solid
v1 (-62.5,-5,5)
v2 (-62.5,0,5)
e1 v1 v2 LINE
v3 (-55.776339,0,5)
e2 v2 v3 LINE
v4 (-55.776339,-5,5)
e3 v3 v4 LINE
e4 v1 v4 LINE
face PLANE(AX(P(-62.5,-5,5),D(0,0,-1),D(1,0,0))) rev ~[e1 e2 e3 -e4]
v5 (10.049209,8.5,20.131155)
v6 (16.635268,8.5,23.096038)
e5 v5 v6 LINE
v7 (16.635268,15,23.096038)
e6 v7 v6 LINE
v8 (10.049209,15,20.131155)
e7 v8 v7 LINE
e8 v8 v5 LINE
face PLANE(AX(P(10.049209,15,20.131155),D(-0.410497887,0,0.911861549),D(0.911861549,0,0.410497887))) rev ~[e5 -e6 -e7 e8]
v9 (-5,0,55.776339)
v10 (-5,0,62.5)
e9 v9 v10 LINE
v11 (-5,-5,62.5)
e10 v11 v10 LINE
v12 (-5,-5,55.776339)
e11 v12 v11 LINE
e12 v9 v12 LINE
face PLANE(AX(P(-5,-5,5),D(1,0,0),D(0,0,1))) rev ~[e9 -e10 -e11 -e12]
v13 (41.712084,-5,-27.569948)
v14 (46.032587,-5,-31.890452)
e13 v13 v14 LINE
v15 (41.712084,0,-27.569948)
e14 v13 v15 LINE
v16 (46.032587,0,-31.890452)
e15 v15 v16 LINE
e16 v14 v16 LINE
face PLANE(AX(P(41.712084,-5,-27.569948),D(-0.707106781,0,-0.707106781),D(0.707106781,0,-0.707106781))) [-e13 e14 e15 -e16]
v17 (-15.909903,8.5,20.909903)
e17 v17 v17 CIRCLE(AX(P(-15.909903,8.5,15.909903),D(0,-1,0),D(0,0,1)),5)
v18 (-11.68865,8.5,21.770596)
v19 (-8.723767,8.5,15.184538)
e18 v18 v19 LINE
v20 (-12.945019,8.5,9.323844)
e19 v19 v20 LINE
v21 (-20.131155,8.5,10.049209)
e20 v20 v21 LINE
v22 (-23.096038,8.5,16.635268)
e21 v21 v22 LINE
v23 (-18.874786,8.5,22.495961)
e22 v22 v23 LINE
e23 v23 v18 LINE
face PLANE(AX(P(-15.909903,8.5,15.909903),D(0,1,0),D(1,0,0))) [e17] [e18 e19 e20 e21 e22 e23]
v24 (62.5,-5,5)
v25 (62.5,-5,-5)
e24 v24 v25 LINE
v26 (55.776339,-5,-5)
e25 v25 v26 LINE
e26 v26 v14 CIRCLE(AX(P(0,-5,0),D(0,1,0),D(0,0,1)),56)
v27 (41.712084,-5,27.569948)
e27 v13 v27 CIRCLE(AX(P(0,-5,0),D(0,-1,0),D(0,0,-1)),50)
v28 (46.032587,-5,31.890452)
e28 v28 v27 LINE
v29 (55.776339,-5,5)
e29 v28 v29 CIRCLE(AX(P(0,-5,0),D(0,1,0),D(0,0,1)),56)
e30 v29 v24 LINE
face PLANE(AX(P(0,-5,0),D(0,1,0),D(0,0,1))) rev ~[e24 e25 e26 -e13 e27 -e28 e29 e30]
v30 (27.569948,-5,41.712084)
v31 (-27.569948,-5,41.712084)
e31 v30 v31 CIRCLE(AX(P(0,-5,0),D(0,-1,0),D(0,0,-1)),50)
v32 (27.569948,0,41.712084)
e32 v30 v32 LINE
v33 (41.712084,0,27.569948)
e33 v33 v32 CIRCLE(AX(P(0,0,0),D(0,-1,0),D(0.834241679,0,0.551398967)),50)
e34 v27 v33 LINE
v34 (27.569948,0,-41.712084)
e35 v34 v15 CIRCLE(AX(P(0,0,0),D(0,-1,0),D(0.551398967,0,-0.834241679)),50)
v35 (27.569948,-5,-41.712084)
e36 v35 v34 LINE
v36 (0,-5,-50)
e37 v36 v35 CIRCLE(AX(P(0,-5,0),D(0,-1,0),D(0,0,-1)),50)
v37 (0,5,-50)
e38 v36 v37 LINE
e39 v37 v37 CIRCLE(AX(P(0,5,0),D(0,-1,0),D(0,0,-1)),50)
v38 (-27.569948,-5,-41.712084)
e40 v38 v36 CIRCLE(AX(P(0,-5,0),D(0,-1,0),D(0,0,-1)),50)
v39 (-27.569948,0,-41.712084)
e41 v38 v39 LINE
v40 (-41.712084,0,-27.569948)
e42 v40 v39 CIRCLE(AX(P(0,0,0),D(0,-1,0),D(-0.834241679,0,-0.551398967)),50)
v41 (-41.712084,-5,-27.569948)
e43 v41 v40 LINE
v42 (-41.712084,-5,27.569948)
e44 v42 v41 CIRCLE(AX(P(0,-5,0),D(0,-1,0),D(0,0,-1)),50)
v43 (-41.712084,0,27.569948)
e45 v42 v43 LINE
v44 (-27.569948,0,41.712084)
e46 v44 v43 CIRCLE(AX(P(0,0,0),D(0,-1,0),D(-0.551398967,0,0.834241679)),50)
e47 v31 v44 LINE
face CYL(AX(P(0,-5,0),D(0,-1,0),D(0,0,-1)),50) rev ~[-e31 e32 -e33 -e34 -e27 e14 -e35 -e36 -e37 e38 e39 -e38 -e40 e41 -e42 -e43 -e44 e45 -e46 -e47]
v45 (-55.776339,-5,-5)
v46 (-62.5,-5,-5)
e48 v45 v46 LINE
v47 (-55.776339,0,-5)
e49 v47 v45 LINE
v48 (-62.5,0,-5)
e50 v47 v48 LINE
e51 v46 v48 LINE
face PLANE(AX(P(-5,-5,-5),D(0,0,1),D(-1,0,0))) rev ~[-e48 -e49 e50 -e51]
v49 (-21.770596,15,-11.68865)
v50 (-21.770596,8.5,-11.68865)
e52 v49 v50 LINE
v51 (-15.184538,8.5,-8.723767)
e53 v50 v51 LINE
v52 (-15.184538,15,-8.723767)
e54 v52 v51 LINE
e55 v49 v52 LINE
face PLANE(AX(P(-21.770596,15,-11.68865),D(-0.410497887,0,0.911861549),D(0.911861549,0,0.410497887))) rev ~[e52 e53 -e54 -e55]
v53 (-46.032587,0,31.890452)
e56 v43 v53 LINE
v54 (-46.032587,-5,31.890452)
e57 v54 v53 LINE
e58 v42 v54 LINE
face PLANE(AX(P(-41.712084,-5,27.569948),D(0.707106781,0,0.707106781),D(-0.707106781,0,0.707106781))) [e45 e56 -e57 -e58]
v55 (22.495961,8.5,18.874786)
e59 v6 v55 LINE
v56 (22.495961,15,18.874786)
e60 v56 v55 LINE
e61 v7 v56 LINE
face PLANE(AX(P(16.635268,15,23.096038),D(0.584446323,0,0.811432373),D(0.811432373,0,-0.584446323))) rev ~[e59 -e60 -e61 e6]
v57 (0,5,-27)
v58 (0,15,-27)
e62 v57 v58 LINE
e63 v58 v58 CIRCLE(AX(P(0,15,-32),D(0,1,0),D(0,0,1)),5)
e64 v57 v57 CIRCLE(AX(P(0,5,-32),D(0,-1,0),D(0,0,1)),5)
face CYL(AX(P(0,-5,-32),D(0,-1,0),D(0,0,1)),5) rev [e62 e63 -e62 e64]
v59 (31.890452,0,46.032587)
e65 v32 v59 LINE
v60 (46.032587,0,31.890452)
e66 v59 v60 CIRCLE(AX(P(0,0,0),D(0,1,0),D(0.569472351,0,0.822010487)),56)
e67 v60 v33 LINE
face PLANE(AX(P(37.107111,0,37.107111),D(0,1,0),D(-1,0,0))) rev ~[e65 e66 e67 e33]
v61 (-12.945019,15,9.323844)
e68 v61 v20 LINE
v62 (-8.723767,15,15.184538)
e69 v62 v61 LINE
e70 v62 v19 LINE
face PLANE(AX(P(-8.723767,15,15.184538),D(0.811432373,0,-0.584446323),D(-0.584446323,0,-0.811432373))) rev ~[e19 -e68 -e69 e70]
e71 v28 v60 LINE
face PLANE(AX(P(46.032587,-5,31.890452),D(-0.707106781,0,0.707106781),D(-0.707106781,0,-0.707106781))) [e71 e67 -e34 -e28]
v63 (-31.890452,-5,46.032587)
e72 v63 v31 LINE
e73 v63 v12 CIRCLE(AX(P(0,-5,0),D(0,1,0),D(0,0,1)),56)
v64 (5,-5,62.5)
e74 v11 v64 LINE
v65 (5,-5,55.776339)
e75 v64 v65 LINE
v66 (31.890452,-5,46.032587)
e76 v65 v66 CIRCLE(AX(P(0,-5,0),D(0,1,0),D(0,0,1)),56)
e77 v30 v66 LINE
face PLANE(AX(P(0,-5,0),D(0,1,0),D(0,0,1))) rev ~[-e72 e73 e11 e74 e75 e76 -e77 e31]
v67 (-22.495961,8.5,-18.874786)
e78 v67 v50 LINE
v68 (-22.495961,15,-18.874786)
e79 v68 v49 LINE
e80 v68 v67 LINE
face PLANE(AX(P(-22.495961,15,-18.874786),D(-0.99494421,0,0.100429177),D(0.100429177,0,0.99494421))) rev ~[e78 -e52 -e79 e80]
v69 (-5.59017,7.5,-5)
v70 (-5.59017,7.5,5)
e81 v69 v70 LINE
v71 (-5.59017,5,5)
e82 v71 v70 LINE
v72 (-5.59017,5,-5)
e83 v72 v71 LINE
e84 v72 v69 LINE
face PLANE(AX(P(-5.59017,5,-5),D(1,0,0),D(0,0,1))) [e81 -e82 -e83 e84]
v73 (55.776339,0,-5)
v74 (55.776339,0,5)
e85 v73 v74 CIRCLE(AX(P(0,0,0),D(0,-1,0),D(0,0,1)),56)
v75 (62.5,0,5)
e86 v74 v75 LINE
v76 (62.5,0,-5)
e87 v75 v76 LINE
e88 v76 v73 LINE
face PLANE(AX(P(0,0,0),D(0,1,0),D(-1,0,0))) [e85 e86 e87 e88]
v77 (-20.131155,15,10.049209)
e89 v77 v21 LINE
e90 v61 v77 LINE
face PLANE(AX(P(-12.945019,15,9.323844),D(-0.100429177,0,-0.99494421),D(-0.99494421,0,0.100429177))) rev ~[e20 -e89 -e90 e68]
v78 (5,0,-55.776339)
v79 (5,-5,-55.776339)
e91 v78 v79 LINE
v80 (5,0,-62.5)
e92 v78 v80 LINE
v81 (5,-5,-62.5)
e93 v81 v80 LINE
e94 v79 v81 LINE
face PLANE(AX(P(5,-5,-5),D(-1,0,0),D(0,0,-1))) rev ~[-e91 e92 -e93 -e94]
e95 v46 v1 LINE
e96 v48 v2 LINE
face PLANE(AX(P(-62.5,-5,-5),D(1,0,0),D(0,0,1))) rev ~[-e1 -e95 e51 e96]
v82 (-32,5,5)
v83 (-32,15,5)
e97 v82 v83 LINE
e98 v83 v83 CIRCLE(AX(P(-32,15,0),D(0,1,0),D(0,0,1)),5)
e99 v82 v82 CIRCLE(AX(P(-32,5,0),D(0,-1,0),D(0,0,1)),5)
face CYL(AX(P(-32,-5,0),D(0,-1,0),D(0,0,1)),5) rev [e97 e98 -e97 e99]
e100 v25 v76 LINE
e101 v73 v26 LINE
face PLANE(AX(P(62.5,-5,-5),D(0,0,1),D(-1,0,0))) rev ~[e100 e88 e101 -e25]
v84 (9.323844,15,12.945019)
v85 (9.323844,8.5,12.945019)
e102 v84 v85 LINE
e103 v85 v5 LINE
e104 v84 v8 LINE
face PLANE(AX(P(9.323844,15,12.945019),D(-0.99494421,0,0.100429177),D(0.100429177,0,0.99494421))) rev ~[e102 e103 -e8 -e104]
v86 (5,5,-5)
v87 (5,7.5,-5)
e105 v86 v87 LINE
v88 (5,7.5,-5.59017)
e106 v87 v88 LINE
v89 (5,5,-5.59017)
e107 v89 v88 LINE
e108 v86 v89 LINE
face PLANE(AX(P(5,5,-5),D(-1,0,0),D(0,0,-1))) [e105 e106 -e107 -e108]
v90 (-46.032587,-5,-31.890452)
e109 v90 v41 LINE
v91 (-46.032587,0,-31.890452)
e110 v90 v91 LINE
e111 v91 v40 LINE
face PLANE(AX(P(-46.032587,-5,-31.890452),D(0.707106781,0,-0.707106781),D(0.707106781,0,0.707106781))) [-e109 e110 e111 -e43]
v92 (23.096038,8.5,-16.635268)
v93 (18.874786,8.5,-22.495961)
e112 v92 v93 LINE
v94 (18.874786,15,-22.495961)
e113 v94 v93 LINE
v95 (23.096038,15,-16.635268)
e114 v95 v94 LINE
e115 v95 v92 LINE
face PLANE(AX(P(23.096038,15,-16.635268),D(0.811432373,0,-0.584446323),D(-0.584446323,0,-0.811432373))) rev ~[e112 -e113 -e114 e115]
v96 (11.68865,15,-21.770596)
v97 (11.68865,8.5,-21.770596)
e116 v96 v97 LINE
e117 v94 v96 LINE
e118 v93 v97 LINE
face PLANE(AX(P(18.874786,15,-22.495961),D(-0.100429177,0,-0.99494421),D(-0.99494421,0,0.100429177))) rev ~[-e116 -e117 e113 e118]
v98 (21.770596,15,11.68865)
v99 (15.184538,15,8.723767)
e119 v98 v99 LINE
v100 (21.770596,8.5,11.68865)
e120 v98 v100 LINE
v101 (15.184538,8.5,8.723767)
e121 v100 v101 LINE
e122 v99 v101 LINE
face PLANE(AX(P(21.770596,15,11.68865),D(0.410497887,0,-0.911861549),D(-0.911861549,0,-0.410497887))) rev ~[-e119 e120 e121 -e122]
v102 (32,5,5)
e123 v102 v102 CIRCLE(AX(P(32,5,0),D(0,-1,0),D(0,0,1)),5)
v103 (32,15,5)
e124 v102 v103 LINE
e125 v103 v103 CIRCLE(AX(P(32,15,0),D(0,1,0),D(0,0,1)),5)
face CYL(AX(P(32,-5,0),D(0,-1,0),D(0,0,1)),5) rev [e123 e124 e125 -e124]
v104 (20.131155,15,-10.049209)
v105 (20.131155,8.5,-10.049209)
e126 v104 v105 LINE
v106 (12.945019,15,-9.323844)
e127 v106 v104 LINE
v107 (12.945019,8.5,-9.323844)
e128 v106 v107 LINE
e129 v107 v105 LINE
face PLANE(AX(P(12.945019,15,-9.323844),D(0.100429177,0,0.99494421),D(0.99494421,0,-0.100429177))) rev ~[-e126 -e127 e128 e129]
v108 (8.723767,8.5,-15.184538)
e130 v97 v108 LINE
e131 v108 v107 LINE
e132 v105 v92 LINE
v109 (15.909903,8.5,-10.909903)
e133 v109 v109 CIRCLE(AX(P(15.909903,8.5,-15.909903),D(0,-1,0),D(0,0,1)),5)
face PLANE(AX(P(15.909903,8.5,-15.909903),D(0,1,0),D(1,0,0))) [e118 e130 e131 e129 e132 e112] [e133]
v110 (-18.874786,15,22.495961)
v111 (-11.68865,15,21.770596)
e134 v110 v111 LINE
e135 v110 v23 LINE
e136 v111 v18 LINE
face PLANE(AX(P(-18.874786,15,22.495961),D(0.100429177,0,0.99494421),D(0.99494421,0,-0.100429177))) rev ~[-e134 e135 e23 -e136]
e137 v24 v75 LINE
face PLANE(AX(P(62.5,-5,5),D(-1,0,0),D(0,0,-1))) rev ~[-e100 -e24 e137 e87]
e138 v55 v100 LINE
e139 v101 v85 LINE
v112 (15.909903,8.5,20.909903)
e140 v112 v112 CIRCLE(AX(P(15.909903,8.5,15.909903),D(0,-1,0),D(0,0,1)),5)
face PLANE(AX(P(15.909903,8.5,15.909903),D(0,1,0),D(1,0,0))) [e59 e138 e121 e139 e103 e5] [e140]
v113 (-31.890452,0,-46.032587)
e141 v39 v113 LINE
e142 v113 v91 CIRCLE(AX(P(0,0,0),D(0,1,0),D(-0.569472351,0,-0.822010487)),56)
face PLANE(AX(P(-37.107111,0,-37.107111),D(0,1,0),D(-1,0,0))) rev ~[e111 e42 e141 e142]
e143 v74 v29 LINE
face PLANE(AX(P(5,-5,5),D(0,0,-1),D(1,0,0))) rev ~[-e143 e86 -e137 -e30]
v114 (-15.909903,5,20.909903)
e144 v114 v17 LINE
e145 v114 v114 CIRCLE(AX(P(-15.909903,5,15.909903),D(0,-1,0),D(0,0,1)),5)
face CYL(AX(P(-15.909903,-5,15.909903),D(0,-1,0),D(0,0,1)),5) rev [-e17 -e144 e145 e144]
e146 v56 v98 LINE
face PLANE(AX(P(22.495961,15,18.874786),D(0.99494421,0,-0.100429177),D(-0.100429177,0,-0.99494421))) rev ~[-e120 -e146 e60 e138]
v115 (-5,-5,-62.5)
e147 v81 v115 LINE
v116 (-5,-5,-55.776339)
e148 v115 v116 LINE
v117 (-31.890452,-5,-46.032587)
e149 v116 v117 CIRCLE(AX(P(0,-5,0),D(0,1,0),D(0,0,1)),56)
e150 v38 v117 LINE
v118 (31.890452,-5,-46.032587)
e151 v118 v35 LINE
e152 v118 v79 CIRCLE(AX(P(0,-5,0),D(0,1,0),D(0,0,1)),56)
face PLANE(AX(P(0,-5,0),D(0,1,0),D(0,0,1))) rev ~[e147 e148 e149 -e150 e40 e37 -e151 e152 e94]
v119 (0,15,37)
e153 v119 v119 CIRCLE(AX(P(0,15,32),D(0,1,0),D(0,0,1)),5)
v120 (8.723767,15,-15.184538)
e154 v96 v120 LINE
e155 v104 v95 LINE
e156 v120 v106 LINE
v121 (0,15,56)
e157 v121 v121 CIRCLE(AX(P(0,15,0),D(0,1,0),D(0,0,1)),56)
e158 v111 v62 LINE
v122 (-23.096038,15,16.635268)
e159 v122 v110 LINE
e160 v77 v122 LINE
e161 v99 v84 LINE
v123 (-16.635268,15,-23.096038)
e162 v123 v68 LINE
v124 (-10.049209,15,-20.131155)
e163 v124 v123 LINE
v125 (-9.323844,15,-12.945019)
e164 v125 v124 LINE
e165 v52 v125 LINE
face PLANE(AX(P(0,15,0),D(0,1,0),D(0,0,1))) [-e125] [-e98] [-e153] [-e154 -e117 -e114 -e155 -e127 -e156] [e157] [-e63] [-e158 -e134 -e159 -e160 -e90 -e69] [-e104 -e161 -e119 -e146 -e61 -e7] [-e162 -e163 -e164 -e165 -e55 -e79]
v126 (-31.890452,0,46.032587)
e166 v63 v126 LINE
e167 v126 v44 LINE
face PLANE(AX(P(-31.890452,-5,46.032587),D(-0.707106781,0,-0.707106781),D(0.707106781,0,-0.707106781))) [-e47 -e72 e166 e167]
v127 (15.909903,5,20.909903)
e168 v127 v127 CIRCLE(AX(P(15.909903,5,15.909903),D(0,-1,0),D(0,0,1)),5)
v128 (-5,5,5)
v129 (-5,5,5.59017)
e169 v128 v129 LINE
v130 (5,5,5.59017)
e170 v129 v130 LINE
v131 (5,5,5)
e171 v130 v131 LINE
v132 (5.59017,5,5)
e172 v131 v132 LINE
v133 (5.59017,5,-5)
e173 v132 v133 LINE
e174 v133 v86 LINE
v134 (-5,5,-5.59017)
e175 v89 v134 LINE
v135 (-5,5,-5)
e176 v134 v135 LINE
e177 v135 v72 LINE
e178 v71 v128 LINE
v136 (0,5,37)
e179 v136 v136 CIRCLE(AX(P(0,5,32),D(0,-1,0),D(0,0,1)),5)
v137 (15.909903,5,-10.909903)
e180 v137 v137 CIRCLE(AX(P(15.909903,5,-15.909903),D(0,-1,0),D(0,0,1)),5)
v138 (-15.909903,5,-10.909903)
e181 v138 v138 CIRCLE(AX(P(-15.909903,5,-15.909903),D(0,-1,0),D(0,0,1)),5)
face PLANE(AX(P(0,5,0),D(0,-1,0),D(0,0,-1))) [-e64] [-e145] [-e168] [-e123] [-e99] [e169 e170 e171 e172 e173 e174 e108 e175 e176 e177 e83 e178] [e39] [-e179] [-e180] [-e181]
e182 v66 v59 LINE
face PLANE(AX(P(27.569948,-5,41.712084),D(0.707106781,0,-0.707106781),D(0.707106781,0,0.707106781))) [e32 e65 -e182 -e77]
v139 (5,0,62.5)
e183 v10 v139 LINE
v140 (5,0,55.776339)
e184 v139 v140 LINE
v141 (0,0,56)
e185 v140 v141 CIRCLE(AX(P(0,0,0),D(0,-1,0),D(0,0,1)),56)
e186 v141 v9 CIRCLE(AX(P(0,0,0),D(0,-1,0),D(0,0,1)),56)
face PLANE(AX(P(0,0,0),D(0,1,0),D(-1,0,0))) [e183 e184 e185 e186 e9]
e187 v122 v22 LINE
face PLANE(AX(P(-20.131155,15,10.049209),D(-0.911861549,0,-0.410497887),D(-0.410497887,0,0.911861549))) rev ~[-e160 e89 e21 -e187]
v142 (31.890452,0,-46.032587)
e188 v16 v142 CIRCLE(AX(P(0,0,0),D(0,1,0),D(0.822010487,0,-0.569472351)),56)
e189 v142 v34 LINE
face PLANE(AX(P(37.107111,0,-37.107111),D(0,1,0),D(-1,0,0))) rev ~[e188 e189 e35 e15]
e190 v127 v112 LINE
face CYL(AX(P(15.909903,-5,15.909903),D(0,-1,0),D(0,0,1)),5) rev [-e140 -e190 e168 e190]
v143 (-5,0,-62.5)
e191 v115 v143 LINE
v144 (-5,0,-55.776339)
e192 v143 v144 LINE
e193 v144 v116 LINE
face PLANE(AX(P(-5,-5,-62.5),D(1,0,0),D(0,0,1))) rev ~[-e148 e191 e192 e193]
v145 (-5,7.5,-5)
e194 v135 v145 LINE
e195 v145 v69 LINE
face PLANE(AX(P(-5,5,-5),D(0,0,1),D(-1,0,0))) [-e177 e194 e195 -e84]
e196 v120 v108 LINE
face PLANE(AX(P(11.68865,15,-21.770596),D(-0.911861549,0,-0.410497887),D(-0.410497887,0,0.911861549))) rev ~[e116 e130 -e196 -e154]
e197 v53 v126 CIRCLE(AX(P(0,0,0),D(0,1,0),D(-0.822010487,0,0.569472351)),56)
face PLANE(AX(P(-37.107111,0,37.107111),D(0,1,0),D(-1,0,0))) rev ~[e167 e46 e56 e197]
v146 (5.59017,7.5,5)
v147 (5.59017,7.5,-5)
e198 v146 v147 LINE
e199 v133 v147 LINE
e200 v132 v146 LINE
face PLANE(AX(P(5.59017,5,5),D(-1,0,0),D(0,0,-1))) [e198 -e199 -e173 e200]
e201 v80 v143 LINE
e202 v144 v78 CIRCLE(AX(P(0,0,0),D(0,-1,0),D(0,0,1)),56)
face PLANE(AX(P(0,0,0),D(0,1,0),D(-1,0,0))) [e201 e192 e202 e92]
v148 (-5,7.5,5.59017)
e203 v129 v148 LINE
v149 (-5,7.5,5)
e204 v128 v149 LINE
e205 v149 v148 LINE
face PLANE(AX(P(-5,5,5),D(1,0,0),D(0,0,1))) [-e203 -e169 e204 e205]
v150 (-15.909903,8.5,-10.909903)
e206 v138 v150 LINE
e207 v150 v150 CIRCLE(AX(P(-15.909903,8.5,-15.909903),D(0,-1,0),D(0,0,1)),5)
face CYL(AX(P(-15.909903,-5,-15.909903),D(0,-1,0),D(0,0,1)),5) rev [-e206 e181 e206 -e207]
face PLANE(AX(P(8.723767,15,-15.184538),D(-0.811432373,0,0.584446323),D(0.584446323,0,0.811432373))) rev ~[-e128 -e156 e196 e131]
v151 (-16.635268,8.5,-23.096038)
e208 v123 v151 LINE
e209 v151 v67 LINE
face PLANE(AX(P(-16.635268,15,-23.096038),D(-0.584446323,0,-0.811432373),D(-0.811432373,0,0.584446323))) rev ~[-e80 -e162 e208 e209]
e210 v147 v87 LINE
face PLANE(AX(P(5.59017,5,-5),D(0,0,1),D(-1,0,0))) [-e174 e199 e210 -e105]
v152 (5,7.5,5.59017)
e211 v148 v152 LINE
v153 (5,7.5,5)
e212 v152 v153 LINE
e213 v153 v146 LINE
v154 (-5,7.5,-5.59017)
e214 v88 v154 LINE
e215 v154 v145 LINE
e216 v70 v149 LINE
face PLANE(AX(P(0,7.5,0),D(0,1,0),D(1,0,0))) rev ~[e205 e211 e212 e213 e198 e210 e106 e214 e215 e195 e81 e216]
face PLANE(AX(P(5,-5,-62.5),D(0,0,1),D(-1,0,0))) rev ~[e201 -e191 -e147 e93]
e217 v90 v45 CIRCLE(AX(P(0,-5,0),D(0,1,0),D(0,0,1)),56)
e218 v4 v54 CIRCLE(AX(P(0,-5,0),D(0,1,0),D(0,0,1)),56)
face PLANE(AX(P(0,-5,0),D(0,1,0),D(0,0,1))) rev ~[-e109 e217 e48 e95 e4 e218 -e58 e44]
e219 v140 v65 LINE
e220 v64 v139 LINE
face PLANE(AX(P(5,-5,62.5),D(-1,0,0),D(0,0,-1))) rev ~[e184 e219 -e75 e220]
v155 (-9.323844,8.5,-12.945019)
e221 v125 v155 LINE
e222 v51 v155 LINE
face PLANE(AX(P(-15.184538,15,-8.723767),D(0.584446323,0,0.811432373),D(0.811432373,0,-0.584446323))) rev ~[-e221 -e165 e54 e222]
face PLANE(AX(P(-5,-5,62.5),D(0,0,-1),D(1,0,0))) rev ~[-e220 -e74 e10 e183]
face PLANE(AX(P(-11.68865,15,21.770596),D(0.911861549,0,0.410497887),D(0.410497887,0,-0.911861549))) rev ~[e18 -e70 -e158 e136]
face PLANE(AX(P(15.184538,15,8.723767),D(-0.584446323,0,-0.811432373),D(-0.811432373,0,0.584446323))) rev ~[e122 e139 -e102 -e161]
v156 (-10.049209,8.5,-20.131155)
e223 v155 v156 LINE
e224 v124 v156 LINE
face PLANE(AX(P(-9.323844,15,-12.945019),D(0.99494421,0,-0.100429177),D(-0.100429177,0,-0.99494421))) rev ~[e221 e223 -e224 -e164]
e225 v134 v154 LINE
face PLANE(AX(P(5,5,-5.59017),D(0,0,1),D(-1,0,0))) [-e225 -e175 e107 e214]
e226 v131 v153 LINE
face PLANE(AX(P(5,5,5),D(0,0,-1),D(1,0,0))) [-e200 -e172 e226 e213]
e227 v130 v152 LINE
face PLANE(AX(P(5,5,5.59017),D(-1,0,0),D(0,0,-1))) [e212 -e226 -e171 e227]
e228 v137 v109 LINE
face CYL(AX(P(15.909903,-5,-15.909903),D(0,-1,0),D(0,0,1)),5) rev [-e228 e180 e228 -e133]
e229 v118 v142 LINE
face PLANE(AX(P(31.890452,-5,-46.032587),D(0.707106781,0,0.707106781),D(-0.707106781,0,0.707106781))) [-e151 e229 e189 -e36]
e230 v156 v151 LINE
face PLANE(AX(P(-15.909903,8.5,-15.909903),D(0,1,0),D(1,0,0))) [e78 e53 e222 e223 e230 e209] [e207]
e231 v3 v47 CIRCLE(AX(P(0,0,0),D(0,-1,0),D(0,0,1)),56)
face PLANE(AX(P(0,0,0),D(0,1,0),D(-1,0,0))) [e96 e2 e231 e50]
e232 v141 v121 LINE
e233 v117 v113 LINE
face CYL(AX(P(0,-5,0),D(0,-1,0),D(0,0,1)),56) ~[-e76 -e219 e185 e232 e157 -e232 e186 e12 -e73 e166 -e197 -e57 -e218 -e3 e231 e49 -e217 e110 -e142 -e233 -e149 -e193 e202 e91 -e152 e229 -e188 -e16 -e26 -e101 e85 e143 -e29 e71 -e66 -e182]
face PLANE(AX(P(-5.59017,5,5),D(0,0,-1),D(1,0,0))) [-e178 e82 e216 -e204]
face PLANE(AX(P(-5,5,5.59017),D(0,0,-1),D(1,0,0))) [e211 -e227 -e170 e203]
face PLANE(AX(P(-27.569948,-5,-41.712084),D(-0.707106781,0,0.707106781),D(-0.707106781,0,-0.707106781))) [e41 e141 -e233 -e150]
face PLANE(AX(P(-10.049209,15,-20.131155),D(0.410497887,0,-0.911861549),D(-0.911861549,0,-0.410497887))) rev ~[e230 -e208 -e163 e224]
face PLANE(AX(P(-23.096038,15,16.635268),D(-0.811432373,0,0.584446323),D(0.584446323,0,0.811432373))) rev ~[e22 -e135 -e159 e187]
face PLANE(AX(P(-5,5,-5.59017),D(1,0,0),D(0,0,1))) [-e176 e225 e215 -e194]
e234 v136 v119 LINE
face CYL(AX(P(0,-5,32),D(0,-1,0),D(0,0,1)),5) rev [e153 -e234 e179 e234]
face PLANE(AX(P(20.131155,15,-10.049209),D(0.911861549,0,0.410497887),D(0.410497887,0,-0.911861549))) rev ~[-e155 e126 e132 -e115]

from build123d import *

# Parameters (mm, degrees)
BOSS_EXTRUDE1_DEPTH      = 15
BOSS_EXTRUDE1_DEPTH_BACK = 5
SKETCH1_R                = 56
SKETCH1_R_2              = 5
BOSS_EXTRUDE3_DEPTH      = 5
SKETCH4_R                = 50
CUT_EXTRUDE1_DEPTH       = 10
CUT_EXTRUDE2_DEPTH       = 5
CUT_EXTRUDE5_START       = -10
CUT_EXTRUDE5_DEPTH       = 2.5
CUT_EXTRUDE6_DEPTH       = 6.5


with BuildPart() as part:
    # Sketch1 → Boss-Extrude1 (new, two sides: drawn at the far end of the back side and taken through both)
    with BuildSketch(Plane(origin=(0, 0, 0), x_dir=(1, 0, 0), z_dir=(0, 1, 0)).offset(-BOSS_EXTRUDE1_DEPTH_BACK)):
        with Locations(Location((0, 0, 0), (0, 0, 270))):
            Circle(SKETCH1_R)
        with Locations(Location((15.909902577, 15.909902577, 0), (0, 0, 270))):
            Circle(SKETCH1_R_2, mode=Mode.SUBTRACT)
        with Locations(Location((15.909902577, -15.909902577, 0), (0, 0, 270))):
            Circle(SKETCH1_R_2, mode=Mode.SUBTRACT)
        with Locations(Location((-15.909902577, -15.909902577, 0), (0, 0, 270))):
            Circle(SKETCH1_R_2, mode=Mode.SUBTRACT)
        with Locations(Location((-15.909902577, 15.909902577, 0), (0, 0, 270))):
            Circle(SKETCH1_R_2, mode=Mode.SUBTRACT)
        with Locations(Location((-32, 0, 0), (0, 0, 270))):
            Circle(SKETCH1_R_2, mode=Mode.SUBTRACT)
        with Locations(Location((0, 32, 0), (0, 0, 270))):
            Circle(SKETCH1_R_2, mode=Mode.SUBTRACT)
        with Locations(Location((32, 0, 0), (0, 0, 270))):
            Circle(SKETCH1_R_2, mode=Mode.SUBTRACT)
        with Locations(Location((0, -32, 0), (0, 0, 270))):
            Circle(SKETCH1_R_2, mode=Mode.SUBTRACT)
    extrude(amount=BOSS_EXTRUDE1_DEPTH + BOSS_EXTRUDE1_DEPTH_BACK)

    # Sketch3 → Boss-Extrude3 (add)
    with BuildSketch(Plane.XZ.offset(5)):
        Polygon((-5, 5), (-5, 62.5), (5, 62.5), (5, 5), (62.5, 5), (62.5, -5), (5, -5), (5, -62.5), (-5, -62.5), (-5, -5), (-62.5, -5), (-62.5, 5), align=None)
    extrude(amount=-BOSS_EXTRUDE3_DEPTH)

    # Sketch4 → Cut-Extrude1 (cut)
    with BuildSketch(Plane.XZ.offset(5)):
        with Locations(Location((0, 0, 0), (0, 0, 270))):
            Circle(SKETCH4_R)
    extrude(amount=-CUT_EXTRUDE1_DEPTH, mode=Mode.SUBTRACT)

    # Sketch5 → Cut-Extrude2 (cut)
    with BuildSketch(Plane.XZ.offset(5)):
        with BuildLine():
            Line((27.56994834, 41.712083963), (31.890451666, 46.032587289))
            ThreePointArc((31.890451666, 46.032587289), (39.597979746, 39.597979746), (46.032587289, 31.890451666))
            Line((46.032587289, 31.890451666), (41.712083963, 27.56994834))
            ThreePointArc((41.712083963, 27.56994834), (35.355339059, 35.355339059), (27.56994834, 41.712083963))
        make_face()
        with BuildLine():
            Line((41.712083963, -27.56994834), (46.032587289, -31.890451666))
            ThreePointArc((46.032587289, -31.890451666), (39.597979746, -39.597979746), (31.890451666, -46.032587289))
            Line((31.890451666, -46.032587289), (27.56994834, -41.712083963))
            ThreePointArc((27.56994834, -41.712083963), (35.355339059, -35.355339059), (41.712083963, -27.56994834))
        make_face()
        with BuildLine():
            Line((-27.56994834, -41.712083963), (-31.890451666, -46.032587289))
            ThreePointArc((-31.890451666, -46.032587289), (-39.597979746, -39.597979746), (-46.032587289, -31.890451666))
            Line((-46.032587289, -31.890451666), (-41.712083963, -27.56994834))
            ThreePointArc((-41.712083963, -27.56994834), (-35.355339059, -35.355339059), (-27.56994834, -41.712083963))
        make_face()
        with BuildLine():
            Line((-41.712083963, 27.56994834), (-46.032587289, 31.890451666))
            ThreePointArc((-46.032587289, 31.890451666), (-39.597979746, 39.597979746), (-31.890451666, 46.032587289))
            Line((-31.890451666, 46.032587289), (-27.56994834, 41.712083963))
            ThreePointArc((-27.56994834, 41.712083963), (-35.355339059, 35.355339059), (-41.712083963, 27.56994834))
        make_face()
    extrude(amount=-CUT_EXTRUDE2_DEPTH, mode=Mode.SUBTRACT)

    # Sketch8 → Cut-Extrude5 (cut)
    with BuildSketch(Plane(origin=(0, 15, 0), x_dir=(1, 0, 0), z_dir=(0, 1, 0)).offset(CUT_EXTRUDE5_START)):
        Polygon((-5, 5), (-5.590169944, 5), (-5.590169944, -5), (-5, -5), (-5, -5.590169944), (5, -5.590169944), (5, -5), (5.590169944, -5), (5.590169944, 5), (5, 5), (5, 5.590169944), (-5, 5.590169944), align=None)
    extrude(amount=CUT_EXTRUDE5_DEPTH, mode=Mode.SUBTRACT)

    # Sketch10 → Cut-Extrude6 (cut)
    with BuildSketch(Plane(origin=(0, 15, 0), x_dir=(1, 0, 0), z_dir=(0, 1, 0))):
        Polygon((11.688650249, 21.770596118), (8.723766922, 15.184537596), (12.94501925, 9.323844055), (20.131154904, 10.049209035), (23.096038231, 16.635267557), (18.874785904, 22.495961099), align=None)
        Polygon((-16.635267557, 23.096038231), (-22.495961099, 18.874785904), (-21.770596118, 11.688650249), (-15.184537596, 8.723766922), (-9.323844055, 12.94501925), (-10.049209035, 20.131154904), align=None)
        Polygon((21.770596118, -11.688650249), (15.184537596, -8.723766922), (9.323844055, -12.94501925), (10.049209035, -20.131154904), (16.635267557, -23.096038231), (22.495961099, -18.874785904), align=None)
        Polygon((-11.688650249, -21.770596118), (-8.723766922, -15.184537596), (-12.94501925, -9.323844055), (-20.131154904, -10.049209035), (-23.096038231, -16.635267557), (-18.874785904, -22.495961099), align=None)
    extrude(amount=-CUT_EXTRUDE6_DEPTH, mode=Mode.SUBTRACT)


solid = part.part
